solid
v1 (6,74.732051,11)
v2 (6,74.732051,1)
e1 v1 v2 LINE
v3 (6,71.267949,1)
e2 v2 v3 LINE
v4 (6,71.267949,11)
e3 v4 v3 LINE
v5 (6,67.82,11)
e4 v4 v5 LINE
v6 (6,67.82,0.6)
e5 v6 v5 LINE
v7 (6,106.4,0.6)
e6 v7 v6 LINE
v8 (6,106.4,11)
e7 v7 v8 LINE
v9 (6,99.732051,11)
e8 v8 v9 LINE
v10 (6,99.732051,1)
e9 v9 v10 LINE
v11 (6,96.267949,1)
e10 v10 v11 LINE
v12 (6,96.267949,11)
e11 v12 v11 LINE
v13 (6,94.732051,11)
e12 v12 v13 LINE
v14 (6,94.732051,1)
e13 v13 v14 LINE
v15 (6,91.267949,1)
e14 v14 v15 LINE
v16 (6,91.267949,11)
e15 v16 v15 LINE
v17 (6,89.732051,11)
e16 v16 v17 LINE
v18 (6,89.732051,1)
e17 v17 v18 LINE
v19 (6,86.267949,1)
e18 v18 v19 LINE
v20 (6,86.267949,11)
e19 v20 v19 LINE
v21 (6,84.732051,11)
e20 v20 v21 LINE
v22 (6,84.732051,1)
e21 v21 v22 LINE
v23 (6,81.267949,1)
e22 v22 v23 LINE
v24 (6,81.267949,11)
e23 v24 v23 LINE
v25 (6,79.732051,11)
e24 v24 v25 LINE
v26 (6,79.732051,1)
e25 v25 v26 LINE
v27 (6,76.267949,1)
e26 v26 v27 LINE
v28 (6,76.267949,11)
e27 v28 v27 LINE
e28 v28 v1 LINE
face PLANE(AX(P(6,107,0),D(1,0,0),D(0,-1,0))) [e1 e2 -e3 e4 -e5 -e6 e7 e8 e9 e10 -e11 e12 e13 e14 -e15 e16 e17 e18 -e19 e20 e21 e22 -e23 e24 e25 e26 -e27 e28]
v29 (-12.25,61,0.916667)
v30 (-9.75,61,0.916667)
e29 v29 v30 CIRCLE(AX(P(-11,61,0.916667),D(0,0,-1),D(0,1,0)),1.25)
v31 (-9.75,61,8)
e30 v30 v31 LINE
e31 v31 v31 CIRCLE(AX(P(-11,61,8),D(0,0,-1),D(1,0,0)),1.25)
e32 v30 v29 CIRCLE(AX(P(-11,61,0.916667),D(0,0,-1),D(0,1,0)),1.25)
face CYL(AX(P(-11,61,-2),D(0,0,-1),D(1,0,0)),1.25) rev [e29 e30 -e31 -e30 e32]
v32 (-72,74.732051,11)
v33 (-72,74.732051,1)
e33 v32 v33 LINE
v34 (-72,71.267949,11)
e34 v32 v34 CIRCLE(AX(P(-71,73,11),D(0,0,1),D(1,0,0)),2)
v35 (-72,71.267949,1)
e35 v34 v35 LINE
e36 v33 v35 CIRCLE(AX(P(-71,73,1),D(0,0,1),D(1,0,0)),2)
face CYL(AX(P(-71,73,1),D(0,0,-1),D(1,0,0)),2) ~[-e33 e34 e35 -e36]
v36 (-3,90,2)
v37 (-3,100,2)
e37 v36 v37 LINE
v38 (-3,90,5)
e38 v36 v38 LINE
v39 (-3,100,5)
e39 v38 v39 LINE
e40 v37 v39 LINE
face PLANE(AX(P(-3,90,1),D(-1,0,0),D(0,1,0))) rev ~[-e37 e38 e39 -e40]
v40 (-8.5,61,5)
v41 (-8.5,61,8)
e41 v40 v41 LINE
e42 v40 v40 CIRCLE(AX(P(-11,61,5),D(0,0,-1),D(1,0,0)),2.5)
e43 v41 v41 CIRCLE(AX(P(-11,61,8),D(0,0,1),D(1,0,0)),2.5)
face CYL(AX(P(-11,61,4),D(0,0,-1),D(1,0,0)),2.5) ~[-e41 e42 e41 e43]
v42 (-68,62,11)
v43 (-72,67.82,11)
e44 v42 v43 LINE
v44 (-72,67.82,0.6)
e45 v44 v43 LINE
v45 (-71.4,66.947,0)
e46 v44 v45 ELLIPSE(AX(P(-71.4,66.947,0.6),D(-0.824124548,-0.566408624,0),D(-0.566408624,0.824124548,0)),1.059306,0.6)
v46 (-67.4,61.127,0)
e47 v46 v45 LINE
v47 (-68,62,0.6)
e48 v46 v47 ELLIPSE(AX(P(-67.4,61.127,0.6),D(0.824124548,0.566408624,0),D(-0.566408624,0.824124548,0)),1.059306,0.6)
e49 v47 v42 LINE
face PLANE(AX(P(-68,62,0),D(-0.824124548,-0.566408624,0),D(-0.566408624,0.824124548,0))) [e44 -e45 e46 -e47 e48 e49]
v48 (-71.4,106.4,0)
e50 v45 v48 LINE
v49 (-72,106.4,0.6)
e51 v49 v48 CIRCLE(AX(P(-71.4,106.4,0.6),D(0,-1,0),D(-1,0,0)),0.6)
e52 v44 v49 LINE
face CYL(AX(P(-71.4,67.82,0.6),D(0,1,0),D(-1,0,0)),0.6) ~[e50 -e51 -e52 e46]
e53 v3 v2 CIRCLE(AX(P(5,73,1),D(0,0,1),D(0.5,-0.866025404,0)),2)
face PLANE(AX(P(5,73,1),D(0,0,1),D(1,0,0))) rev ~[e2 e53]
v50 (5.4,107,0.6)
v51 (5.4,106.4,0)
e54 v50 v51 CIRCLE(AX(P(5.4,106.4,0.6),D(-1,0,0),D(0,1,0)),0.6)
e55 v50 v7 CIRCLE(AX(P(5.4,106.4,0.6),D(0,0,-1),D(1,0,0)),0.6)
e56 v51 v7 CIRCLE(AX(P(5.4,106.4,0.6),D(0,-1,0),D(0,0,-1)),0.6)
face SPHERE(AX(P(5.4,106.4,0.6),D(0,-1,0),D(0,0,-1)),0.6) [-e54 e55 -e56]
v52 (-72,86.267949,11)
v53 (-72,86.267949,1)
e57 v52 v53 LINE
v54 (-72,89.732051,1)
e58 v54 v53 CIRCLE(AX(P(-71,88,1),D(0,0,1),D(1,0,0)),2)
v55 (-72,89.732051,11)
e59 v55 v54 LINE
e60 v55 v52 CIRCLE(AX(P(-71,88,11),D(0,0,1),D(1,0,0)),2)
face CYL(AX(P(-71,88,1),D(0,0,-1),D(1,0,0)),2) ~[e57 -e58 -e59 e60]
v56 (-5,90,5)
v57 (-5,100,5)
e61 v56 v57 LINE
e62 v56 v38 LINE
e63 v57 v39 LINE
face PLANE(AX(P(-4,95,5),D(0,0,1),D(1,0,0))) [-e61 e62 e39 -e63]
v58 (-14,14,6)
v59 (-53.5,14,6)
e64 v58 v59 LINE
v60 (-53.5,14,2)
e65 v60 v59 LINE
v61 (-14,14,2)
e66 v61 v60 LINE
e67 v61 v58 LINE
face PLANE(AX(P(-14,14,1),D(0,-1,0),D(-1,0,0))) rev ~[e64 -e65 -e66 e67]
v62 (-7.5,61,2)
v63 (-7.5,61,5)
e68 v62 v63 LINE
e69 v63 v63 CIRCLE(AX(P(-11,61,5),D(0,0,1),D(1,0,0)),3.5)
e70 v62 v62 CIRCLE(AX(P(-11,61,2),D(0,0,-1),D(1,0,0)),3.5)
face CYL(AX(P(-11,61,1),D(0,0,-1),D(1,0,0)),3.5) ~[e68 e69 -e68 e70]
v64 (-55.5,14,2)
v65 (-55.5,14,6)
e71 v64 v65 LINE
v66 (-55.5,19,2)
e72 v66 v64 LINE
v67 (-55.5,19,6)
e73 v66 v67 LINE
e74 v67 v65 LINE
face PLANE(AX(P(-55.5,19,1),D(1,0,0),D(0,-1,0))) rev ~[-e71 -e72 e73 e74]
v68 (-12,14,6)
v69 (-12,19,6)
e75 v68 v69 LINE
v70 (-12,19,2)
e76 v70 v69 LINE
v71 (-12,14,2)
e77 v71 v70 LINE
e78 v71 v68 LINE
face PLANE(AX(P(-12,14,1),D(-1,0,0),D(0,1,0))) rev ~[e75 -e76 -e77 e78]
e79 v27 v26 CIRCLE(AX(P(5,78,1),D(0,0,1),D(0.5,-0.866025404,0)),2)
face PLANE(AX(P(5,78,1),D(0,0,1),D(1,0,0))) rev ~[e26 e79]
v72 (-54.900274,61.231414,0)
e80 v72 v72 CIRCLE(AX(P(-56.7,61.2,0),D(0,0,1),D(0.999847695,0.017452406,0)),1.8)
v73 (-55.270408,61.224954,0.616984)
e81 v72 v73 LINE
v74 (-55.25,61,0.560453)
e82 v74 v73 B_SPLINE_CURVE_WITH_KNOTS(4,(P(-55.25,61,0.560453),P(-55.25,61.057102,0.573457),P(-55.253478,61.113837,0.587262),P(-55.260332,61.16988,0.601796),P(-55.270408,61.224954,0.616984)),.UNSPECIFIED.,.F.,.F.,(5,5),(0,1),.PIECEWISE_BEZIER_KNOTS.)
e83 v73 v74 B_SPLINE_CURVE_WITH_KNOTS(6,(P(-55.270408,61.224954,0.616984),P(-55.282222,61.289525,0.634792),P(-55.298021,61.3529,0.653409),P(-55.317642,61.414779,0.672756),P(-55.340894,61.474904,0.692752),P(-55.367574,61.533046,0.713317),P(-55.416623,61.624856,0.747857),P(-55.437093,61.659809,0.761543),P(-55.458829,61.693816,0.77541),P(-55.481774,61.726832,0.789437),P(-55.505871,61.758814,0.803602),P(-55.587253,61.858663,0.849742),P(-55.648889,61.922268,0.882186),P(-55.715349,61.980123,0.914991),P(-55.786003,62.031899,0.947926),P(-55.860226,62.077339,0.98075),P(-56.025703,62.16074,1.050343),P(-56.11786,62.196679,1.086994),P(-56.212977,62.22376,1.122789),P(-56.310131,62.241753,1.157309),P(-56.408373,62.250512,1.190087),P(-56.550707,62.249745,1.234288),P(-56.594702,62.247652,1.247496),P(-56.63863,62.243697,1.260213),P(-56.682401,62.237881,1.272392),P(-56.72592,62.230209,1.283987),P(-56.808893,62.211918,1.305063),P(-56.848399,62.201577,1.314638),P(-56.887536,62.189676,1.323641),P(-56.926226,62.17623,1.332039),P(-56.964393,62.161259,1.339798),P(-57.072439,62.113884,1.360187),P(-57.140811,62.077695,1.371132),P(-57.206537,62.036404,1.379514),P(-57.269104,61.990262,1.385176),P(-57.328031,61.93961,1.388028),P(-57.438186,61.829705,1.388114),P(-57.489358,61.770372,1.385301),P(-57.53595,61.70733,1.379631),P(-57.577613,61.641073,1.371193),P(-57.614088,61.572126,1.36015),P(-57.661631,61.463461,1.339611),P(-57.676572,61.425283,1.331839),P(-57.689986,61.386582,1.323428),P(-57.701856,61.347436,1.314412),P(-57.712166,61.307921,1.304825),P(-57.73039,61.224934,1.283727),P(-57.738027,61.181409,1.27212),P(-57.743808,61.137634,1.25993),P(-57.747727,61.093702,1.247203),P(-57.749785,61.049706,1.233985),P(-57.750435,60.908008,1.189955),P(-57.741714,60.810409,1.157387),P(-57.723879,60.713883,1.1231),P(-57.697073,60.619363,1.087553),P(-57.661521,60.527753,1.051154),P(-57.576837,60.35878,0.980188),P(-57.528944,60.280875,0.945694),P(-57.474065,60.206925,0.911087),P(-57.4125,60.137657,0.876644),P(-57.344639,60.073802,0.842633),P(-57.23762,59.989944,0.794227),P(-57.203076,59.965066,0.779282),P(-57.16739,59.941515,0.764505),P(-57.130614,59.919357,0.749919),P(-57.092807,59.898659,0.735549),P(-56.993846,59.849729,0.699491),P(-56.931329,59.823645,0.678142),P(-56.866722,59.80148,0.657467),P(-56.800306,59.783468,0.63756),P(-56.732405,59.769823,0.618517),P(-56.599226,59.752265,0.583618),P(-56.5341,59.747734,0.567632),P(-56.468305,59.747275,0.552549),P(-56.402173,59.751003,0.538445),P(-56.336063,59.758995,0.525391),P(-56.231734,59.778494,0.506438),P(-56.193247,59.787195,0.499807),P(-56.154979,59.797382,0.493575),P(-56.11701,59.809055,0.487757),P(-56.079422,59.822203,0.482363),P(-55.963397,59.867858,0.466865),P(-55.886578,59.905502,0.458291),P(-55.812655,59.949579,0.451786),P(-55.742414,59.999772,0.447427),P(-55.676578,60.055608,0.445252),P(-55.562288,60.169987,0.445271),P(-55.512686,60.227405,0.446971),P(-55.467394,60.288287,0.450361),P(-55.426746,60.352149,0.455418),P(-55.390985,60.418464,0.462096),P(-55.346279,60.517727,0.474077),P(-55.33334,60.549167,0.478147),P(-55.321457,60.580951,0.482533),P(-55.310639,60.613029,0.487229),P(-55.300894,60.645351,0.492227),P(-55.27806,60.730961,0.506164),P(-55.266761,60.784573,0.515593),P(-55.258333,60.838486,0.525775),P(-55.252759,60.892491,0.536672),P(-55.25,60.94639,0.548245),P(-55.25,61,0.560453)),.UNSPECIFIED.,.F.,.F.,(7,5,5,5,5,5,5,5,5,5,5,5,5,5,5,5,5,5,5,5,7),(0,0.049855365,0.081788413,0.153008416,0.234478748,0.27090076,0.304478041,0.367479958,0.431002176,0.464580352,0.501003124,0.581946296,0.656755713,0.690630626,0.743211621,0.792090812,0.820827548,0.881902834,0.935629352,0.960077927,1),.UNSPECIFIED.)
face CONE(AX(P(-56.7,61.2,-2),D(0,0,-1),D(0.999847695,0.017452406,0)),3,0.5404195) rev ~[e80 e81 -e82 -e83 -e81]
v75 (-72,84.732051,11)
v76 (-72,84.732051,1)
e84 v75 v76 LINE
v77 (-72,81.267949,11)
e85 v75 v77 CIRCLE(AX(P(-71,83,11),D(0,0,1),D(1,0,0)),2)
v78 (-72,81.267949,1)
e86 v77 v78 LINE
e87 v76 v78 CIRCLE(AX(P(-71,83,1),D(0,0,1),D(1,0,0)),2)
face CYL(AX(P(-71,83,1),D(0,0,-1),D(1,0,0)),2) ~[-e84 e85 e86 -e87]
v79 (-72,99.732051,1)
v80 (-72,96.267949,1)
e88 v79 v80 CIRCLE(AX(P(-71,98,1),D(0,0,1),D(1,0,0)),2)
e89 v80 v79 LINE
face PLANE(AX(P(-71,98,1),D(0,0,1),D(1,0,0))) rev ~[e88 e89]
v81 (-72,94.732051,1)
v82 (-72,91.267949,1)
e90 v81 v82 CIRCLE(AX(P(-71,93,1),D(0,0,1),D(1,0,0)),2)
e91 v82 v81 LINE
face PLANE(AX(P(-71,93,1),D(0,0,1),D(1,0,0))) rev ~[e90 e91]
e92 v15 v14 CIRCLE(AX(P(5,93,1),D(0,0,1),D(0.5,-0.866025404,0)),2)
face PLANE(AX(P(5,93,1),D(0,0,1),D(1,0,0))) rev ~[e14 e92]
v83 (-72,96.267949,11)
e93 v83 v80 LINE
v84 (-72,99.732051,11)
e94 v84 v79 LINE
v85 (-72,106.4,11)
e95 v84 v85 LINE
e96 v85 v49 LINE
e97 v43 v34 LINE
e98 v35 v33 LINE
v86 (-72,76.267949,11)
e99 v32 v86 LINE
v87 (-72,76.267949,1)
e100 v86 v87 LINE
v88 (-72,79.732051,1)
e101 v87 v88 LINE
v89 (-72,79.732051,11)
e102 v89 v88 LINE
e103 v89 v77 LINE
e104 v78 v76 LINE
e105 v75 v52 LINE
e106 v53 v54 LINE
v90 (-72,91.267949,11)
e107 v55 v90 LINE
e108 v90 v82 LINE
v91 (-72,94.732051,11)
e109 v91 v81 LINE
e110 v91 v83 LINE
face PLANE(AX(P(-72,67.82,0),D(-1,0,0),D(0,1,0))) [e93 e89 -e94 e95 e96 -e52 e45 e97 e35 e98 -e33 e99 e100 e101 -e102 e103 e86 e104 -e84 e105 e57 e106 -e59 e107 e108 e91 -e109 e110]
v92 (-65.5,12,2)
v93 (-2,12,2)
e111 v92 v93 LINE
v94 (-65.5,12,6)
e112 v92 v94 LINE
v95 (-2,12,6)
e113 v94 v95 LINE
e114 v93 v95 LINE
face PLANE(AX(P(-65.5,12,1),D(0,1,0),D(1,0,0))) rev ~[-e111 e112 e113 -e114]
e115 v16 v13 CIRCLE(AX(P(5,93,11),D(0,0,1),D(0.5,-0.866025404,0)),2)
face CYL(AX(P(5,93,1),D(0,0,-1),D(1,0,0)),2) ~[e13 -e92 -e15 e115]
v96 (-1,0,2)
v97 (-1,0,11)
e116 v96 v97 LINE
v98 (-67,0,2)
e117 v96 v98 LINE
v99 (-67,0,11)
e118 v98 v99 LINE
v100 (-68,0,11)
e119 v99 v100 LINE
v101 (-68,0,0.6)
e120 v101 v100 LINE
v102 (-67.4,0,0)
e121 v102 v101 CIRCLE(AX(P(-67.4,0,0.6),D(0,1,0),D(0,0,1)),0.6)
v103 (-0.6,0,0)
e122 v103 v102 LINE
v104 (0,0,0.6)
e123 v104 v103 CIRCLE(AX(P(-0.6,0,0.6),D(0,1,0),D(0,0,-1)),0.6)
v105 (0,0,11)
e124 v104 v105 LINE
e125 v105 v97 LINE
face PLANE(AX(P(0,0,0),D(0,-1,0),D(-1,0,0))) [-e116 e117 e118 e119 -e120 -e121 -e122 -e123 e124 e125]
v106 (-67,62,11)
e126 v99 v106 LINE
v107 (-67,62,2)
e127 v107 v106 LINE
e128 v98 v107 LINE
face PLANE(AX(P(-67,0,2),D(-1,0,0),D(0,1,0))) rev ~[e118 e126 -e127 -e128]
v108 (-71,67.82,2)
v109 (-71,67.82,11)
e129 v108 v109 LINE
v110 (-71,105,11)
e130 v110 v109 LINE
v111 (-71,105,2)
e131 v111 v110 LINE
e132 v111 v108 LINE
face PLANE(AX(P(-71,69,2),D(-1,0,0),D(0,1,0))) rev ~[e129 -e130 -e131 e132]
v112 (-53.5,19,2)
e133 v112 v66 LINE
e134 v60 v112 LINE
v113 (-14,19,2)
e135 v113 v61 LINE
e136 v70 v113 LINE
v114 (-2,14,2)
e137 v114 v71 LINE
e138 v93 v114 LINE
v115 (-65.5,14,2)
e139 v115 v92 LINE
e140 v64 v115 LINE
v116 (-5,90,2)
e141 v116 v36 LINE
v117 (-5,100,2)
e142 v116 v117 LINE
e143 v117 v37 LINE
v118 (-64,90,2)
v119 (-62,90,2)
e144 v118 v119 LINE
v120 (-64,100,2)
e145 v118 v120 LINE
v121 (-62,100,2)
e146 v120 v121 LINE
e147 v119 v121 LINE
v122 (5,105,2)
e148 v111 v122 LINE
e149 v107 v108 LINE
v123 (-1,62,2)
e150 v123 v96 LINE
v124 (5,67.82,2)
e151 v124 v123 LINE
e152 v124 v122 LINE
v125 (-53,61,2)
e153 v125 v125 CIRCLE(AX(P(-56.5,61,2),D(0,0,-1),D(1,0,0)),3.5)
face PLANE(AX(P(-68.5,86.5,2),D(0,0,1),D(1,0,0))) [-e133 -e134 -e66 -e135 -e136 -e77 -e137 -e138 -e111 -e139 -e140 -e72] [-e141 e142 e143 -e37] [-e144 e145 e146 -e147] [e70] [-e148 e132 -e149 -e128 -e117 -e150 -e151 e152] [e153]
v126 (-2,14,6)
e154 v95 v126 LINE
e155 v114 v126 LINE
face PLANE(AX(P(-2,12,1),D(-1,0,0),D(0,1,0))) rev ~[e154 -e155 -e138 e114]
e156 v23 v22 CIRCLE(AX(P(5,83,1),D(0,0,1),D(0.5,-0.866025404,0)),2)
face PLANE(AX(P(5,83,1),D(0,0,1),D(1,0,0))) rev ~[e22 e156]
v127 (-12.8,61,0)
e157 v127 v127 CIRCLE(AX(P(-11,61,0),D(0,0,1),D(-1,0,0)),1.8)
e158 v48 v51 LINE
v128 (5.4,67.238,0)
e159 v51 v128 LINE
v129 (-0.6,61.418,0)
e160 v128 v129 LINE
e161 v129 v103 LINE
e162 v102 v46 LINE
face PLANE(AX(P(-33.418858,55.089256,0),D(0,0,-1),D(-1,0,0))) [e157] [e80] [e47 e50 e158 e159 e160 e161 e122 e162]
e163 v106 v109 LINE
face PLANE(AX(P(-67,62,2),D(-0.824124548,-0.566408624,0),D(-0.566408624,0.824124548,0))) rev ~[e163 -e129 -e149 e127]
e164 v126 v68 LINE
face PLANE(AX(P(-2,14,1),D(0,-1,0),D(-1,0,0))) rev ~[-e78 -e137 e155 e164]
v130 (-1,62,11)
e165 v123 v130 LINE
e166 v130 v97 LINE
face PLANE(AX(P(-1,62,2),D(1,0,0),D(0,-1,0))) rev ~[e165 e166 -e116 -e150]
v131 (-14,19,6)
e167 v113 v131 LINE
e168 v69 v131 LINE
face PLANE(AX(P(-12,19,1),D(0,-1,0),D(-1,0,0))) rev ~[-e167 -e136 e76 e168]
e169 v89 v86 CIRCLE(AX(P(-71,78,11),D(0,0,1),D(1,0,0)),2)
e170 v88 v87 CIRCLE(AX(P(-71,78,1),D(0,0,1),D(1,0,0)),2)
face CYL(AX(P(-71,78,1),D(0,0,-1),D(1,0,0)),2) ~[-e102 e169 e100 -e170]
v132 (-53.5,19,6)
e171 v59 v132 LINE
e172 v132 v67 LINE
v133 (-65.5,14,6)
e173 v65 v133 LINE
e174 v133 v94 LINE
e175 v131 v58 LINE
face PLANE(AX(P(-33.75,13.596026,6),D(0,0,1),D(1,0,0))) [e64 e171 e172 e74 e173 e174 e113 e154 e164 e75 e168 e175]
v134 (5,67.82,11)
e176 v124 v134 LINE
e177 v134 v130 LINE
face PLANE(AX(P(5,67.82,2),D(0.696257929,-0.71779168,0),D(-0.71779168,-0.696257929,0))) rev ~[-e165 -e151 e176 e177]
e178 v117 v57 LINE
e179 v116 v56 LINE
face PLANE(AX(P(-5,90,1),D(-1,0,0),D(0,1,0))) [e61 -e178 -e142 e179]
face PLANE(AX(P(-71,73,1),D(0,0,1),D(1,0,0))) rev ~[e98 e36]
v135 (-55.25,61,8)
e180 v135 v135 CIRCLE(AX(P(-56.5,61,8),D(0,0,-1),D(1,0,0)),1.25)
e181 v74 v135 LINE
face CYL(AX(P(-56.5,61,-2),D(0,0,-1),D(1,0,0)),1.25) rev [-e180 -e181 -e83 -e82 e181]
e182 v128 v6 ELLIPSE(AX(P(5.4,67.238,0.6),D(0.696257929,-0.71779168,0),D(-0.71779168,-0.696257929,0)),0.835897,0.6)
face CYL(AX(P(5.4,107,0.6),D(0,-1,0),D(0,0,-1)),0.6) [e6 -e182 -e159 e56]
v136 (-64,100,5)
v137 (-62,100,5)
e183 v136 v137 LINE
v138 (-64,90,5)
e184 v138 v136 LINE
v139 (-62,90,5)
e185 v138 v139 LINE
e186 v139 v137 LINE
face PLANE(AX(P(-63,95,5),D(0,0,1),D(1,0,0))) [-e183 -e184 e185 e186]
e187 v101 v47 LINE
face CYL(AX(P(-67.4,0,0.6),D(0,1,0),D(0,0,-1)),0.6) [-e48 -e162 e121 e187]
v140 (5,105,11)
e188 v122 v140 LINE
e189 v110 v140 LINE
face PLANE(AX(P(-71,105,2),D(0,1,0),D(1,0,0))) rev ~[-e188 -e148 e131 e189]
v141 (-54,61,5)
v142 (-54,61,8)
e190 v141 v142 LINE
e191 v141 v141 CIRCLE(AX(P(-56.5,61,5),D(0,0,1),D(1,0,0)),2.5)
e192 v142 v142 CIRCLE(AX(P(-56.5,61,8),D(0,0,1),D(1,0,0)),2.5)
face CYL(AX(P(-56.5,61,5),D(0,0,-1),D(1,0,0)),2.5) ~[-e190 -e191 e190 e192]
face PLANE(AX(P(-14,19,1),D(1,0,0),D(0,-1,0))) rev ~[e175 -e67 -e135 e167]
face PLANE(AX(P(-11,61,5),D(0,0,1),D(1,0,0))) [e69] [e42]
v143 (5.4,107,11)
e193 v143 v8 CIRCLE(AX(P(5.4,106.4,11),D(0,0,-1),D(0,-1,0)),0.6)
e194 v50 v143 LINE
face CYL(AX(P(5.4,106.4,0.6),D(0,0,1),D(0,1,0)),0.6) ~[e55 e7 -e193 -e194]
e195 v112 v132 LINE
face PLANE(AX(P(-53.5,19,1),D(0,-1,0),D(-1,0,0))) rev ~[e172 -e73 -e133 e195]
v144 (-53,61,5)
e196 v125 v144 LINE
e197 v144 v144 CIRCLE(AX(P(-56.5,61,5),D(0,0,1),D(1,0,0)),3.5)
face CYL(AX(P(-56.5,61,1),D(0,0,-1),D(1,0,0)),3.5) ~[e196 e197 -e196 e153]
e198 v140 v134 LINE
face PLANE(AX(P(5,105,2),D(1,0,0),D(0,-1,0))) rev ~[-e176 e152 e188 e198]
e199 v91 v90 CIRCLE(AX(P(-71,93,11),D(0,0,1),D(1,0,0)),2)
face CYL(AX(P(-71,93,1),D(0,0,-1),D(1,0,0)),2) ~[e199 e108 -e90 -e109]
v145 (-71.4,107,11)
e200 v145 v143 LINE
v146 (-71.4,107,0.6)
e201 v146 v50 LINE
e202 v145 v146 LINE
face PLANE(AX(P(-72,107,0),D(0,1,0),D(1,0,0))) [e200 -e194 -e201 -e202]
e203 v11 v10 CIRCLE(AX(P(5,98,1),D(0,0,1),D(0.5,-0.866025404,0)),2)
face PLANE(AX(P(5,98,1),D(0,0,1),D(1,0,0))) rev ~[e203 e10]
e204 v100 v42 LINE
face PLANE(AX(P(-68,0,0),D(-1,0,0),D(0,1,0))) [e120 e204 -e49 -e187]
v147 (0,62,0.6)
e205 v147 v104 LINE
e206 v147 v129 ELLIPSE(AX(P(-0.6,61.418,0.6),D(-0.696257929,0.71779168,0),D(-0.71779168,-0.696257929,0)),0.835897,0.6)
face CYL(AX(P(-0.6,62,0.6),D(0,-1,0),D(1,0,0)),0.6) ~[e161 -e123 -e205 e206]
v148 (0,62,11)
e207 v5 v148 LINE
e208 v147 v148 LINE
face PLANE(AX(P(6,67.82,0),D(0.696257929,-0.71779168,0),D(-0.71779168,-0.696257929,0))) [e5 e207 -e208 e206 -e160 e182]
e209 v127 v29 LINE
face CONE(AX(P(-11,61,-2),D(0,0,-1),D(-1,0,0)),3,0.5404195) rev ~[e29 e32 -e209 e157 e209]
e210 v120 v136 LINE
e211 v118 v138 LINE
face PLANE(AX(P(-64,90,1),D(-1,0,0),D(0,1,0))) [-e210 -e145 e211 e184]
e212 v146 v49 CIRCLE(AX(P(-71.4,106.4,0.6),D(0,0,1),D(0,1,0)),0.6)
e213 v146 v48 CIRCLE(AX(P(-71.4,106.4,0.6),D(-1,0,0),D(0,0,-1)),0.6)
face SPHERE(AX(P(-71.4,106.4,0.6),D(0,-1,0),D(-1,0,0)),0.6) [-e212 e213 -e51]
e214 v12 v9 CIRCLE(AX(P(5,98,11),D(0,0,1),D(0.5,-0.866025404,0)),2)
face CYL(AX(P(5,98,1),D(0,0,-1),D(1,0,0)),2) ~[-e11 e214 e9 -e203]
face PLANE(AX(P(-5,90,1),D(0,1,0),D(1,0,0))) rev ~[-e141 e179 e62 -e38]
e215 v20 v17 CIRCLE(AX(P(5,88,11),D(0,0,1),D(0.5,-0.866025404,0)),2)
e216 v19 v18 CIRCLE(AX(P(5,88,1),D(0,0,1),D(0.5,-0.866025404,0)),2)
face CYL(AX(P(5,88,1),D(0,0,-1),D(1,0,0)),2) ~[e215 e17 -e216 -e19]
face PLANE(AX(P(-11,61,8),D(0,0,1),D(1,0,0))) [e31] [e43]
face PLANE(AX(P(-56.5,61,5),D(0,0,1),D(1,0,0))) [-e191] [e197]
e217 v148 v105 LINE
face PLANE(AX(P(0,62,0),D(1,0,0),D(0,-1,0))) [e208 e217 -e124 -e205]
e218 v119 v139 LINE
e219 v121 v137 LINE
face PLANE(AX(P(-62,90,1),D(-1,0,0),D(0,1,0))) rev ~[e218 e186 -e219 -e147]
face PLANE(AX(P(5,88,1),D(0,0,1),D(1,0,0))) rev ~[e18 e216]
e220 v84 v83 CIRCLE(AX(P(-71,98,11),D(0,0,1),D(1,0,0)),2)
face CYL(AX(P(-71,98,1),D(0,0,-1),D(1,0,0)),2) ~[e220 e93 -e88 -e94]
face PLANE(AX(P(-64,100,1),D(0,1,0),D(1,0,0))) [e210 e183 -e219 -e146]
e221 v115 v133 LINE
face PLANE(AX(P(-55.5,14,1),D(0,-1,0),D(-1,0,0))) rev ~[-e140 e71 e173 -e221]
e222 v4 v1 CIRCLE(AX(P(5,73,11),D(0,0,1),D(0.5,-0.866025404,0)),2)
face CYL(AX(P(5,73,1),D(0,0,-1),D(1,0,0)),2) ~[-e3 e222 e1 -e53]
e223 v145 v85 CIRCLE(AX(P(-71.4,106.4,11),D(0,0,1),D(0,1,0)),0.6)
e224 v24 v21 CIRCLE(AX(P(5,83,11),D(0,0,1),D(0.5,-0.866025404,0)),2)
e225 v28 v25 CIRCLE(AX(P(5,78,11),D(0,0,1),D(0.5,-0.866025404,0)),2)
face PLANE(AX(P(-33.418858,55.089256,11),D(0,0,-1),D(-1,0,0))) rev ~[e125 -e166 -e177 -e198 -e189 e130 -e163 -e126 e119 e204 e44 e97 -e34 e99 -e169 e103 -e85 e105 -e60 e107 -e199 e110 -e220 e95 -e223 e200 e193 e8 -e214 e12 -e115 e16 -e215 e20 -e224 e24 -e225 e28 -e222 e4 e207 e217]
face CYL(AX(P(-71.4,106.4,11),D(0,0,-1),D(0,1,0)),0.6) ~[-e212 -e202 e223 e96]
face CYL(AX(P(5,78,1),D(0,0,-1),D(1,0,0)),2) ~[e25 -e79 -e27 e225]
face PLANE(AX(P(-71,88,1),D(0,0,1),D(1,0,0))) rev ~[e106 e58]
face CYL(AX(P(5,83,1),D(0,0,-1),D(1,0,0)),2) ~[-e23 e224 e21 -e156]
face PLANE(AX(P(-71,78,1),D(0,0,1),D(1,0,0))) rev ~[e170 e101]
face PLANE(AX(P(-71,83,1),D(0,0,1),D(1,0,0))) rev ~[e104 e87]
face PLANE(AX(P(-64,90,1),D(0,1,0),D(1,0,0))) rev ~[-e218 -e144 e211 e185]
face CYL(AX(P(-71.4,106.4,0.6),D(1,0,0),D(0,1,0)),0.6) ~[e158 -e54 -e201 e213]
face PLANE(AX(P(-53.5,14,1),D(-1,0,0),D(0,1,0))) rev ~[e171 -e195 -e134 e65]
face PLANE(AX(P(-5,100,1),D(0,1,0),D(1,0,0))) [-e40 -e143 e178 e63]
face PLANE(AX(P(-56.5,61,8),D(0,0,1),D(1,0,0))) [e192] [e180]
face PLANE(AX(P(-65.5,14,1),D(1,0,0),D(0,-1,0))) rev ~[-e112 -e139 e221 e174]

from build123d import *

# Parameters (mm, degrees)
CONE001_PLACEMENT_ANGLE = 1
CYLINDER001_R           = 1.25
CYLINDER001_DEPTH       = 16
CYLINDER002_R           = 1.25
CYLINDER002_DEPTH       = 20
BOX003_W                = 5
BOX003_H                = 35
BOX003_DEPTH            = 12
BOX002_W                = 5
BOX002_H                = 35
BOX002_DEPTH            = 12
CYLINDER013_R           = 2
CYLINDER013_DEPTH       = 10
CYLINDER014_R           = 2
CYLINDER014_DEPTH       = 10
CYLINDER015_R           = 2
CYLINDER015_DEPTH       = 10
CYLINDER016_R           = 2
CYLINDER016_DEPTH       = 10
CYLINDER017_R           = 2
CYLINDER017_DEPTH       = 10
CYLINDER012_R           = 2
CYLINDER012_DEPTH       = 10
CYLINDER007_R           = 2
CYLINDER007_DEPTH       = 10
CYLINDER008_R           = 2
CYLINDER008_DEPTH       = 10
CYLINDER009_R           = 2
CYLINDER009_DEPTH       = 10
CYLINDER010_R           = 2
CYLINDER010_DEPTH       = 10
CYLINDER011_R           = 2
CYLINDER011_DEPTH       = 10
CYLINDER006_R           = 2
CYLINDER006_DEPTH       = 10
PAD013_DEPTH            = 5
BOX_W                   = 2
BOX_H                   = 10
BOX_DEPTH               = 4
CYLINDER004_R           = 2.5
CYLINDER004_DEPTH       = 4
BOX001_W                = 2
BOX001_H                = 10
BOX001_DEPTH            = 4
CYLINDER003_R           = 3.5
CYLINDER003_DEPTH       = 4
CYLINDER005_R           = 2.5
CYLINDER005_DEPTH       = 3
CYLINDER_R              = 3.5
CYLINDER_DEPTH          = 4
PAD015_DEPTH            = 10
PAD_DEPTH               = 11
PAD014_DEPTH            = 10
FILLET_R                = 0.6
FILLET001_R             = 0.6
FILLET002_R             = 0.6
FILLET003_R             = 0.6
FILLET004_R             = 0.6


with BuildPart() as cono:
    # Cone → Cone (revolve)
    with BuildSketch(Plane(origin=(-11, 61, -2), x_dir=(-1, 0, 0), z_dir=(0, 1, 0))):
        Polygon((0, 0), (3, 0), (0, 5), align=None)
    revolve(axis=Axis((-11, 61, -2), (0, 0, 1)))


with BuildPart() as cono001:
    # Cone001 → Cone001 (revolve)
    with BuildSketch(Plane.XZ):
        Polygon((0, 0), (3, 0), (0, 5), align=None)
    revolve(axis=Axis((0, 0, 0), (0, 0, 1)))


with BuildPart() as cono001_1:
    # Cone001 placement: moved
    add(cono001.part.moved(Location((-56.7, 61.2, -2))).rotate(Axis((-56.7, 61.2, -2), (0, 0, 1)), CONE001_PLACEMENT_ANGLE))


with BuildPart() as cilindro:
    # Cylinder001 → Cylinder001 (new body)
    with BuildSketch(Plane(origin=(-11, 61, -2), x_dir=(1, 0, 0), z_dir=(0, 0, 1))):
        Circle(CYLINDER001_R)
    extrude(amount=CYLINDER001_DEPTH)


with BuildPart() as cilindro001:
    # Cylinder002 → Cylinder002 (new body)
    with BuildSketch(Plane(origin=(-56.5, 61, -2), x_dir=(1, 0, 0), z_dir=(0, 0, 1))):
        Circle(CYLINDER002_R)
    extrude(amount=CYLINDER002_DEPTH)


with BuildPart() as cubo003:
    # Box003 → Box003 (new body)
    with BuildSketch(Plane(origin=(-71, 69, 2), x_dir=(1, 0, 0), z_dir=(0, 0, 1))):
        with Locations((2.5, 17.5)):
            Rectangle(BOX003_W, BOX003_H)
    extrude(amount=BOX003_DEPTH)


with BuildPart() as cubo002:
    # Box002 → Box002 (new body)
    with BuildSketch(Plane(origin=(0, 69, 2), x_dir=(1, 0, 0), z_dir=(0, 0, 1))):
        with Locations((2.5, 17.5)):
            Rectangle(BOX002_W, BOX002_H)
    extrude(amount=BOX002_DEPTH)


with BuildPart() as cilindro013:
    # Cylinder013 → Cylinder013 (new body)
    with BuildSketch(Plane(origin=(5, 73, 1), x_dir=(1, 0, 0), z_dir=(0, 0, 1))):
        Circle(CYLINDER013_R)
    extrude(amount=CYLINDER013_DEPTH)


with BuildPart() as cilindro014:
    # Cylinder014 → Cylinder014 (new body)
    with BuildSketch(Plane(origin=(5, 83, 1), x_dir=(1, 0, 0), z_dir=(0, 0, 1))):
        Circle(CYLINDER014_R)
    extrude(amount=CYLINDER014_DEPTH)


with BuildPart() as cilindro015:
    # Cylinder015 → Cylinder015 (new body)
    with BuildSketch(Plane(origin=(5, 88, 1), x_dir=(1, 0, 0), z_dir=(0, 0, 1))):
        Circle(CYLINDER015_R)
    extrude(amount=CYLINDER015_DEPTH)


with BuildPart() as cilindro016:
    # Cylinder016 → Cylinder016 (new body)
    with BuildSketch(Plane(origin=(5, 93, 1), x_dir=(1, 0, 0), z_dir=(0, 0, 1))):
        Circle(CYLINDER016_R)
    extrude(amount=CYLINDER016_DEPTH)


with BuildPart() as cilindro017:
    # Cylinder017 → Cylinder017 (new body)
    with BuildSketch(Plane(origin=(5, 98, 1), x_dir=(1, 0, 0), z_dir=(0, 0, 1))):
        Circle(CYLINDER017_R)
    extrude(amount=CYLINDER017_DEPTH)


with BuildPart() as cil_sx:
    # Cylinder012 → Cylinder012 (new body)
    with BuildSketch(Plane(origin=(5, 78, 1), x_dir=(1, 0, 0), z_dir=(0, 0, 1))):
        Circle(CYLINDER012_R)
    extrude(amount=CYLINDER012_DEPTH)

    # Fusion010: union Cilindro013, Cilindro014, Cilindro015, Cilindro016, Cilindro017
    add(cilindro013.part)
    add(cilindro014.part)
    add(cilindro015.part)
    add(cilindro016.part)
    add(cilindro017.part)


with BuildPart() as cil_sx_1:
    # Fusion010 placement: moved
    add(cil_sx.part.moved(Location((-76, 0, 0))))


with BuildPart() as cilindro007:
    # Cylinder007 → Cylinder007 (new body)
    with BuildSketch(Plane(origin=(5, 73, 1), x_dir=(1, 0, 0), z_dir=(0, 0, 1))):
        Circle(CYLINDER007_R)
    extrude(amount=CYLINDER007_DEPTH)


with BuildPart() as cilindro008:
    # Cylinder008 → Cylinder008 (new body)
    with BuildSketch(Plane(origin=(5, 83, 1), x_dir=(1, 0, 0), z_dir=(0, 0, 1))):
        Circle(CYLINDER008_R)
    extrude(amount=CYLINDER008_DEPTH)


with BuildPart() as cilindro009:
    # Cylinder009 → Cylinder009 (new body)
    with BuildSketch(Plane(origin=(5, 88, 1), x_dir=(1, 0, 0), z_dir=(0, 0, 1))):
        Circle(CYLINDER009_R)
    extrude(amount=CYLINDER009_DEPTH)


with BuildPart() as cilindro010:
    # Cylinder010 → Cylinder010 (new body)
    with BuildSketch(Plane(origin=(5, 93, 1), x_dir=(1, 0, 0), z_dir=(0, 0, 1))):
        Circle(CYLINDER010_R)
    extrude(amount=CYLINDER010_DEPTH)


with BuildPart() as cilindro011:
    # Cylinder011 → Cylinder011 (new body)
    with BuildSketch(Plane(origin=(5, 98, 1), x_dir=(1, 0, 0), z_dir=(0, 0, 1))):
        Circle(CYLINDER011_R)
    extrude(amount=CYLINDER011_DEPTH)


with BuildPart() as cut:
    # Cylinder006 → Cylinder006 (new body)
    with BuildSketch(Plane(origin=(5, 78, 1), x_dir=(1, 0, 0), z_dir=(0, 0, 1))):
        Circle(CYLINDER006_R)
    extrude(amount=CYLINDER006_DEPTH)

    # Fusion009: union Cilindro007, Cilindro008, Cilindro009, Cilindro010, Cilindro011
    add(cilindro007.part)
    add(cilindro008.part)
    add(cilindro009.part)
    add(cilindro010.part)
    add(cilindro011.part)

    # Fusion011: union cil_sx
    add(cil_sx_1.part)

    # Cut014: cut Cubo002
    add(cubo002.part, mode=Mode.SUBTRACT)

    # Cut: cut Cubo003
    add(cubo003.part, mode=Mode.SUBTRACT)


with BuildPart() as front_bar:
    # Sketch004 → Pad013 (new body)
    with BuildSketch(Plane.XY.offset(1)):
        Polygon((-65.5, 12), (-2, 12), (-2, 14), (-12, 14), (-12, 19), (-14, 19), (-14, 14), (-53.5, 14), (-53.5, 19), (-55.5, 19), (-55.5, 14), (-65.5, 14), align=None)
    extrude(amount=PAD013_DEPTH)


with BuildPart() as cubo:
    # Box → Box (new body)
    with BuildSketch(Plane(origin=(-5, 90, 1), x_dir=(1, 0, 0), z_dir=(0, 0, 1))):
        with Locations((1, 5)):
            Rectangle(BOX_W, BOX_H)
    extrude(amount=BOX_DEPTH)


with BuildPart() as cilindro003:
    # Cylinder004 → Cylinder004 (new body)
    with BuildSketch(Plane(origin=(-11, 61, 4), x_dir=(1, 0, 0), z_dir=(0, 0, 1))):
        Circle(CYLINDER004_R)
    extrude(amount=CYLINDER004_DEPTH)


with BuildPart() as cubo001:
    # Box001 → Box001 (new body)
    with BuildSketch(Plane(origin=(-64, 90, 1), x_dir=(1, 0, 0), z_dir=(0, 0, 1))):
        with Locations((1, 5)):
            Rectangle(BOX001_W, BOX001_H)
    extrude(amount=BOX001_DEPTH)


with BuildPart() as fusion004:
    # Cylinder003 → Cylinder003 (new body)
    with BuildSketch(Plane(origin=(-11, 61, 1), x_dir=(1, 0, 0), z_dir=(0, 0, 1))):
        Circle(CYLINDER003_R)
    extrude(amount=CYLINDER003_DEPTH)

    # Fusion003: union Cubo001
    add(cubo001.part)

    # Fusion004: union Cilindro003
    add(cilindro003.part)


with BuildPart() as cilindro005:
    # Cylinder005 → Cylinder005 (new body)
    with BuildSketch(Plane(origin=(-56.5, 61, 5), x_dir=(1, 0, 0), z_dir=(0, 0, 1))):
        Circle(CYLINDER005_R)
    extrude(amount=CYLINDER005_DEPTH)


with BuildPart() as cilindro004:
    # Cylinder → Cylinder (new body)
    with BuildSketch(Plane(origin=(-56.5, 61, 1), x_dir=(1, 0, 0), z_dir=(0, 0, 1))):
        Circle(CYLINDER_R)
    extrude(amount=CYLINDER_DEPTH)


with BuildPart() as base:
    # Sketch005 → Pad015 (new body)
    with BuildSketch(Plane(origin=(-1, 0, 2), x_dir=(1, 0, 0), z_dir=(0, 0, 1))):
        Polygon((0, 0), (-66, 0), (-66, 62), (-70, 67.82), (-70, 105), (6, 105), (6, 67.82), (0, 62), align=None)
    extrude(amount=PAD015_DEPTH)


with BuildPart() as bot_final:
    # Pad base: copy of front_bar
    add(front_bar.part)

    # Sketch → Pad (new body)
    with BuildSketch(Plane.XY):
        Polygon((0, 0), (-68, 0), (-68, 62), (-72, 67.82), (-72, 107), (6, 107), (6, 67.82), (0, 62), align=None)
    extrude(amount=PAD_DEPTH)

    # Sketch005 → Pad014 (new body)
    with BuildSketch(Plane(origin=(-1, 0, 2), x_dir=(1, 0, 0), z_dir=(0, 0, 1))):
        Polygon((0, 0), (-66, 0), (-66, 62), (-70, 67.82), (-70, 105), (6, 105), (6, 67.82), (0, 62), align=None)
    extrude(amount=PAD014_DEPTH)

    # Cut013: cut Base
    add(base.part, mode=Mode.SUBTRACT)

    # Fusion: union Cilindro004
    add(cilindro004.part)

    # Fusion012: union Cilindro005
    add(cilindro005.part)

    # Fusion013: union Fusion004
    add(fusion004.part)

    # Fusion014: union Cubo
    add(cubo.part)

    # Fusion015: union front_bar
    add(front_bar.part)

    # Fusion016: union Cut
    add(cut.part)

    # Cut016: cut Cilindro001
    add(cilindro001.part, mode=Mode.SUBTRACT)

    # Cut017: cut Cilindro
    add(cilindro.part, mode=Mode.SUBTRACT)

    # Cut018: cut Cono001
    add(cono001_1.part, mode=Mode.SUBTRACT)

    # Cut019: cut Cono
    add(cono.part, mode=Mode.SUBTRACT)

    # Fillet
    fillet_edges = [bot_final.edges().sort_by_distance(p)[0] for p in [
        (-68, 31, 0),
    ]]
    fillet(fillet_edges, radius=FILLET_R)

    # Fillet001
    fillet001_edges = [bot_final.edges().sort_by_distance(p)[0] for p in [
        (0, 31, 0),
    ]]
    fillet(fillet001_edges, radius=FILLET001_R)

    # Fillet002
    fillet002_edges = [bot_final.edges().sort_by_distance(p)[0] for p in [
        (-72, 87.41, 0),
    ]]
    fillet(fillet002_edges, radius=FILLET002_R)

    # Fillet003
    fillet003_edges = [bot_final.edges().sort_by_distance(p)[0] for p in [
        (6, 87.41, 0),
    ]]
    fillet(fillet003_edges, radius=FILLET003_R)

    # Fillet004
    fillet004_edges = [bot_final.edges().sort_by_distance(p)[0] for p in [
        (-33, 107, 0),
    ]]
    fillet(fillet004_edges, radius=FILLET004_R)


solid = bot_final.part
